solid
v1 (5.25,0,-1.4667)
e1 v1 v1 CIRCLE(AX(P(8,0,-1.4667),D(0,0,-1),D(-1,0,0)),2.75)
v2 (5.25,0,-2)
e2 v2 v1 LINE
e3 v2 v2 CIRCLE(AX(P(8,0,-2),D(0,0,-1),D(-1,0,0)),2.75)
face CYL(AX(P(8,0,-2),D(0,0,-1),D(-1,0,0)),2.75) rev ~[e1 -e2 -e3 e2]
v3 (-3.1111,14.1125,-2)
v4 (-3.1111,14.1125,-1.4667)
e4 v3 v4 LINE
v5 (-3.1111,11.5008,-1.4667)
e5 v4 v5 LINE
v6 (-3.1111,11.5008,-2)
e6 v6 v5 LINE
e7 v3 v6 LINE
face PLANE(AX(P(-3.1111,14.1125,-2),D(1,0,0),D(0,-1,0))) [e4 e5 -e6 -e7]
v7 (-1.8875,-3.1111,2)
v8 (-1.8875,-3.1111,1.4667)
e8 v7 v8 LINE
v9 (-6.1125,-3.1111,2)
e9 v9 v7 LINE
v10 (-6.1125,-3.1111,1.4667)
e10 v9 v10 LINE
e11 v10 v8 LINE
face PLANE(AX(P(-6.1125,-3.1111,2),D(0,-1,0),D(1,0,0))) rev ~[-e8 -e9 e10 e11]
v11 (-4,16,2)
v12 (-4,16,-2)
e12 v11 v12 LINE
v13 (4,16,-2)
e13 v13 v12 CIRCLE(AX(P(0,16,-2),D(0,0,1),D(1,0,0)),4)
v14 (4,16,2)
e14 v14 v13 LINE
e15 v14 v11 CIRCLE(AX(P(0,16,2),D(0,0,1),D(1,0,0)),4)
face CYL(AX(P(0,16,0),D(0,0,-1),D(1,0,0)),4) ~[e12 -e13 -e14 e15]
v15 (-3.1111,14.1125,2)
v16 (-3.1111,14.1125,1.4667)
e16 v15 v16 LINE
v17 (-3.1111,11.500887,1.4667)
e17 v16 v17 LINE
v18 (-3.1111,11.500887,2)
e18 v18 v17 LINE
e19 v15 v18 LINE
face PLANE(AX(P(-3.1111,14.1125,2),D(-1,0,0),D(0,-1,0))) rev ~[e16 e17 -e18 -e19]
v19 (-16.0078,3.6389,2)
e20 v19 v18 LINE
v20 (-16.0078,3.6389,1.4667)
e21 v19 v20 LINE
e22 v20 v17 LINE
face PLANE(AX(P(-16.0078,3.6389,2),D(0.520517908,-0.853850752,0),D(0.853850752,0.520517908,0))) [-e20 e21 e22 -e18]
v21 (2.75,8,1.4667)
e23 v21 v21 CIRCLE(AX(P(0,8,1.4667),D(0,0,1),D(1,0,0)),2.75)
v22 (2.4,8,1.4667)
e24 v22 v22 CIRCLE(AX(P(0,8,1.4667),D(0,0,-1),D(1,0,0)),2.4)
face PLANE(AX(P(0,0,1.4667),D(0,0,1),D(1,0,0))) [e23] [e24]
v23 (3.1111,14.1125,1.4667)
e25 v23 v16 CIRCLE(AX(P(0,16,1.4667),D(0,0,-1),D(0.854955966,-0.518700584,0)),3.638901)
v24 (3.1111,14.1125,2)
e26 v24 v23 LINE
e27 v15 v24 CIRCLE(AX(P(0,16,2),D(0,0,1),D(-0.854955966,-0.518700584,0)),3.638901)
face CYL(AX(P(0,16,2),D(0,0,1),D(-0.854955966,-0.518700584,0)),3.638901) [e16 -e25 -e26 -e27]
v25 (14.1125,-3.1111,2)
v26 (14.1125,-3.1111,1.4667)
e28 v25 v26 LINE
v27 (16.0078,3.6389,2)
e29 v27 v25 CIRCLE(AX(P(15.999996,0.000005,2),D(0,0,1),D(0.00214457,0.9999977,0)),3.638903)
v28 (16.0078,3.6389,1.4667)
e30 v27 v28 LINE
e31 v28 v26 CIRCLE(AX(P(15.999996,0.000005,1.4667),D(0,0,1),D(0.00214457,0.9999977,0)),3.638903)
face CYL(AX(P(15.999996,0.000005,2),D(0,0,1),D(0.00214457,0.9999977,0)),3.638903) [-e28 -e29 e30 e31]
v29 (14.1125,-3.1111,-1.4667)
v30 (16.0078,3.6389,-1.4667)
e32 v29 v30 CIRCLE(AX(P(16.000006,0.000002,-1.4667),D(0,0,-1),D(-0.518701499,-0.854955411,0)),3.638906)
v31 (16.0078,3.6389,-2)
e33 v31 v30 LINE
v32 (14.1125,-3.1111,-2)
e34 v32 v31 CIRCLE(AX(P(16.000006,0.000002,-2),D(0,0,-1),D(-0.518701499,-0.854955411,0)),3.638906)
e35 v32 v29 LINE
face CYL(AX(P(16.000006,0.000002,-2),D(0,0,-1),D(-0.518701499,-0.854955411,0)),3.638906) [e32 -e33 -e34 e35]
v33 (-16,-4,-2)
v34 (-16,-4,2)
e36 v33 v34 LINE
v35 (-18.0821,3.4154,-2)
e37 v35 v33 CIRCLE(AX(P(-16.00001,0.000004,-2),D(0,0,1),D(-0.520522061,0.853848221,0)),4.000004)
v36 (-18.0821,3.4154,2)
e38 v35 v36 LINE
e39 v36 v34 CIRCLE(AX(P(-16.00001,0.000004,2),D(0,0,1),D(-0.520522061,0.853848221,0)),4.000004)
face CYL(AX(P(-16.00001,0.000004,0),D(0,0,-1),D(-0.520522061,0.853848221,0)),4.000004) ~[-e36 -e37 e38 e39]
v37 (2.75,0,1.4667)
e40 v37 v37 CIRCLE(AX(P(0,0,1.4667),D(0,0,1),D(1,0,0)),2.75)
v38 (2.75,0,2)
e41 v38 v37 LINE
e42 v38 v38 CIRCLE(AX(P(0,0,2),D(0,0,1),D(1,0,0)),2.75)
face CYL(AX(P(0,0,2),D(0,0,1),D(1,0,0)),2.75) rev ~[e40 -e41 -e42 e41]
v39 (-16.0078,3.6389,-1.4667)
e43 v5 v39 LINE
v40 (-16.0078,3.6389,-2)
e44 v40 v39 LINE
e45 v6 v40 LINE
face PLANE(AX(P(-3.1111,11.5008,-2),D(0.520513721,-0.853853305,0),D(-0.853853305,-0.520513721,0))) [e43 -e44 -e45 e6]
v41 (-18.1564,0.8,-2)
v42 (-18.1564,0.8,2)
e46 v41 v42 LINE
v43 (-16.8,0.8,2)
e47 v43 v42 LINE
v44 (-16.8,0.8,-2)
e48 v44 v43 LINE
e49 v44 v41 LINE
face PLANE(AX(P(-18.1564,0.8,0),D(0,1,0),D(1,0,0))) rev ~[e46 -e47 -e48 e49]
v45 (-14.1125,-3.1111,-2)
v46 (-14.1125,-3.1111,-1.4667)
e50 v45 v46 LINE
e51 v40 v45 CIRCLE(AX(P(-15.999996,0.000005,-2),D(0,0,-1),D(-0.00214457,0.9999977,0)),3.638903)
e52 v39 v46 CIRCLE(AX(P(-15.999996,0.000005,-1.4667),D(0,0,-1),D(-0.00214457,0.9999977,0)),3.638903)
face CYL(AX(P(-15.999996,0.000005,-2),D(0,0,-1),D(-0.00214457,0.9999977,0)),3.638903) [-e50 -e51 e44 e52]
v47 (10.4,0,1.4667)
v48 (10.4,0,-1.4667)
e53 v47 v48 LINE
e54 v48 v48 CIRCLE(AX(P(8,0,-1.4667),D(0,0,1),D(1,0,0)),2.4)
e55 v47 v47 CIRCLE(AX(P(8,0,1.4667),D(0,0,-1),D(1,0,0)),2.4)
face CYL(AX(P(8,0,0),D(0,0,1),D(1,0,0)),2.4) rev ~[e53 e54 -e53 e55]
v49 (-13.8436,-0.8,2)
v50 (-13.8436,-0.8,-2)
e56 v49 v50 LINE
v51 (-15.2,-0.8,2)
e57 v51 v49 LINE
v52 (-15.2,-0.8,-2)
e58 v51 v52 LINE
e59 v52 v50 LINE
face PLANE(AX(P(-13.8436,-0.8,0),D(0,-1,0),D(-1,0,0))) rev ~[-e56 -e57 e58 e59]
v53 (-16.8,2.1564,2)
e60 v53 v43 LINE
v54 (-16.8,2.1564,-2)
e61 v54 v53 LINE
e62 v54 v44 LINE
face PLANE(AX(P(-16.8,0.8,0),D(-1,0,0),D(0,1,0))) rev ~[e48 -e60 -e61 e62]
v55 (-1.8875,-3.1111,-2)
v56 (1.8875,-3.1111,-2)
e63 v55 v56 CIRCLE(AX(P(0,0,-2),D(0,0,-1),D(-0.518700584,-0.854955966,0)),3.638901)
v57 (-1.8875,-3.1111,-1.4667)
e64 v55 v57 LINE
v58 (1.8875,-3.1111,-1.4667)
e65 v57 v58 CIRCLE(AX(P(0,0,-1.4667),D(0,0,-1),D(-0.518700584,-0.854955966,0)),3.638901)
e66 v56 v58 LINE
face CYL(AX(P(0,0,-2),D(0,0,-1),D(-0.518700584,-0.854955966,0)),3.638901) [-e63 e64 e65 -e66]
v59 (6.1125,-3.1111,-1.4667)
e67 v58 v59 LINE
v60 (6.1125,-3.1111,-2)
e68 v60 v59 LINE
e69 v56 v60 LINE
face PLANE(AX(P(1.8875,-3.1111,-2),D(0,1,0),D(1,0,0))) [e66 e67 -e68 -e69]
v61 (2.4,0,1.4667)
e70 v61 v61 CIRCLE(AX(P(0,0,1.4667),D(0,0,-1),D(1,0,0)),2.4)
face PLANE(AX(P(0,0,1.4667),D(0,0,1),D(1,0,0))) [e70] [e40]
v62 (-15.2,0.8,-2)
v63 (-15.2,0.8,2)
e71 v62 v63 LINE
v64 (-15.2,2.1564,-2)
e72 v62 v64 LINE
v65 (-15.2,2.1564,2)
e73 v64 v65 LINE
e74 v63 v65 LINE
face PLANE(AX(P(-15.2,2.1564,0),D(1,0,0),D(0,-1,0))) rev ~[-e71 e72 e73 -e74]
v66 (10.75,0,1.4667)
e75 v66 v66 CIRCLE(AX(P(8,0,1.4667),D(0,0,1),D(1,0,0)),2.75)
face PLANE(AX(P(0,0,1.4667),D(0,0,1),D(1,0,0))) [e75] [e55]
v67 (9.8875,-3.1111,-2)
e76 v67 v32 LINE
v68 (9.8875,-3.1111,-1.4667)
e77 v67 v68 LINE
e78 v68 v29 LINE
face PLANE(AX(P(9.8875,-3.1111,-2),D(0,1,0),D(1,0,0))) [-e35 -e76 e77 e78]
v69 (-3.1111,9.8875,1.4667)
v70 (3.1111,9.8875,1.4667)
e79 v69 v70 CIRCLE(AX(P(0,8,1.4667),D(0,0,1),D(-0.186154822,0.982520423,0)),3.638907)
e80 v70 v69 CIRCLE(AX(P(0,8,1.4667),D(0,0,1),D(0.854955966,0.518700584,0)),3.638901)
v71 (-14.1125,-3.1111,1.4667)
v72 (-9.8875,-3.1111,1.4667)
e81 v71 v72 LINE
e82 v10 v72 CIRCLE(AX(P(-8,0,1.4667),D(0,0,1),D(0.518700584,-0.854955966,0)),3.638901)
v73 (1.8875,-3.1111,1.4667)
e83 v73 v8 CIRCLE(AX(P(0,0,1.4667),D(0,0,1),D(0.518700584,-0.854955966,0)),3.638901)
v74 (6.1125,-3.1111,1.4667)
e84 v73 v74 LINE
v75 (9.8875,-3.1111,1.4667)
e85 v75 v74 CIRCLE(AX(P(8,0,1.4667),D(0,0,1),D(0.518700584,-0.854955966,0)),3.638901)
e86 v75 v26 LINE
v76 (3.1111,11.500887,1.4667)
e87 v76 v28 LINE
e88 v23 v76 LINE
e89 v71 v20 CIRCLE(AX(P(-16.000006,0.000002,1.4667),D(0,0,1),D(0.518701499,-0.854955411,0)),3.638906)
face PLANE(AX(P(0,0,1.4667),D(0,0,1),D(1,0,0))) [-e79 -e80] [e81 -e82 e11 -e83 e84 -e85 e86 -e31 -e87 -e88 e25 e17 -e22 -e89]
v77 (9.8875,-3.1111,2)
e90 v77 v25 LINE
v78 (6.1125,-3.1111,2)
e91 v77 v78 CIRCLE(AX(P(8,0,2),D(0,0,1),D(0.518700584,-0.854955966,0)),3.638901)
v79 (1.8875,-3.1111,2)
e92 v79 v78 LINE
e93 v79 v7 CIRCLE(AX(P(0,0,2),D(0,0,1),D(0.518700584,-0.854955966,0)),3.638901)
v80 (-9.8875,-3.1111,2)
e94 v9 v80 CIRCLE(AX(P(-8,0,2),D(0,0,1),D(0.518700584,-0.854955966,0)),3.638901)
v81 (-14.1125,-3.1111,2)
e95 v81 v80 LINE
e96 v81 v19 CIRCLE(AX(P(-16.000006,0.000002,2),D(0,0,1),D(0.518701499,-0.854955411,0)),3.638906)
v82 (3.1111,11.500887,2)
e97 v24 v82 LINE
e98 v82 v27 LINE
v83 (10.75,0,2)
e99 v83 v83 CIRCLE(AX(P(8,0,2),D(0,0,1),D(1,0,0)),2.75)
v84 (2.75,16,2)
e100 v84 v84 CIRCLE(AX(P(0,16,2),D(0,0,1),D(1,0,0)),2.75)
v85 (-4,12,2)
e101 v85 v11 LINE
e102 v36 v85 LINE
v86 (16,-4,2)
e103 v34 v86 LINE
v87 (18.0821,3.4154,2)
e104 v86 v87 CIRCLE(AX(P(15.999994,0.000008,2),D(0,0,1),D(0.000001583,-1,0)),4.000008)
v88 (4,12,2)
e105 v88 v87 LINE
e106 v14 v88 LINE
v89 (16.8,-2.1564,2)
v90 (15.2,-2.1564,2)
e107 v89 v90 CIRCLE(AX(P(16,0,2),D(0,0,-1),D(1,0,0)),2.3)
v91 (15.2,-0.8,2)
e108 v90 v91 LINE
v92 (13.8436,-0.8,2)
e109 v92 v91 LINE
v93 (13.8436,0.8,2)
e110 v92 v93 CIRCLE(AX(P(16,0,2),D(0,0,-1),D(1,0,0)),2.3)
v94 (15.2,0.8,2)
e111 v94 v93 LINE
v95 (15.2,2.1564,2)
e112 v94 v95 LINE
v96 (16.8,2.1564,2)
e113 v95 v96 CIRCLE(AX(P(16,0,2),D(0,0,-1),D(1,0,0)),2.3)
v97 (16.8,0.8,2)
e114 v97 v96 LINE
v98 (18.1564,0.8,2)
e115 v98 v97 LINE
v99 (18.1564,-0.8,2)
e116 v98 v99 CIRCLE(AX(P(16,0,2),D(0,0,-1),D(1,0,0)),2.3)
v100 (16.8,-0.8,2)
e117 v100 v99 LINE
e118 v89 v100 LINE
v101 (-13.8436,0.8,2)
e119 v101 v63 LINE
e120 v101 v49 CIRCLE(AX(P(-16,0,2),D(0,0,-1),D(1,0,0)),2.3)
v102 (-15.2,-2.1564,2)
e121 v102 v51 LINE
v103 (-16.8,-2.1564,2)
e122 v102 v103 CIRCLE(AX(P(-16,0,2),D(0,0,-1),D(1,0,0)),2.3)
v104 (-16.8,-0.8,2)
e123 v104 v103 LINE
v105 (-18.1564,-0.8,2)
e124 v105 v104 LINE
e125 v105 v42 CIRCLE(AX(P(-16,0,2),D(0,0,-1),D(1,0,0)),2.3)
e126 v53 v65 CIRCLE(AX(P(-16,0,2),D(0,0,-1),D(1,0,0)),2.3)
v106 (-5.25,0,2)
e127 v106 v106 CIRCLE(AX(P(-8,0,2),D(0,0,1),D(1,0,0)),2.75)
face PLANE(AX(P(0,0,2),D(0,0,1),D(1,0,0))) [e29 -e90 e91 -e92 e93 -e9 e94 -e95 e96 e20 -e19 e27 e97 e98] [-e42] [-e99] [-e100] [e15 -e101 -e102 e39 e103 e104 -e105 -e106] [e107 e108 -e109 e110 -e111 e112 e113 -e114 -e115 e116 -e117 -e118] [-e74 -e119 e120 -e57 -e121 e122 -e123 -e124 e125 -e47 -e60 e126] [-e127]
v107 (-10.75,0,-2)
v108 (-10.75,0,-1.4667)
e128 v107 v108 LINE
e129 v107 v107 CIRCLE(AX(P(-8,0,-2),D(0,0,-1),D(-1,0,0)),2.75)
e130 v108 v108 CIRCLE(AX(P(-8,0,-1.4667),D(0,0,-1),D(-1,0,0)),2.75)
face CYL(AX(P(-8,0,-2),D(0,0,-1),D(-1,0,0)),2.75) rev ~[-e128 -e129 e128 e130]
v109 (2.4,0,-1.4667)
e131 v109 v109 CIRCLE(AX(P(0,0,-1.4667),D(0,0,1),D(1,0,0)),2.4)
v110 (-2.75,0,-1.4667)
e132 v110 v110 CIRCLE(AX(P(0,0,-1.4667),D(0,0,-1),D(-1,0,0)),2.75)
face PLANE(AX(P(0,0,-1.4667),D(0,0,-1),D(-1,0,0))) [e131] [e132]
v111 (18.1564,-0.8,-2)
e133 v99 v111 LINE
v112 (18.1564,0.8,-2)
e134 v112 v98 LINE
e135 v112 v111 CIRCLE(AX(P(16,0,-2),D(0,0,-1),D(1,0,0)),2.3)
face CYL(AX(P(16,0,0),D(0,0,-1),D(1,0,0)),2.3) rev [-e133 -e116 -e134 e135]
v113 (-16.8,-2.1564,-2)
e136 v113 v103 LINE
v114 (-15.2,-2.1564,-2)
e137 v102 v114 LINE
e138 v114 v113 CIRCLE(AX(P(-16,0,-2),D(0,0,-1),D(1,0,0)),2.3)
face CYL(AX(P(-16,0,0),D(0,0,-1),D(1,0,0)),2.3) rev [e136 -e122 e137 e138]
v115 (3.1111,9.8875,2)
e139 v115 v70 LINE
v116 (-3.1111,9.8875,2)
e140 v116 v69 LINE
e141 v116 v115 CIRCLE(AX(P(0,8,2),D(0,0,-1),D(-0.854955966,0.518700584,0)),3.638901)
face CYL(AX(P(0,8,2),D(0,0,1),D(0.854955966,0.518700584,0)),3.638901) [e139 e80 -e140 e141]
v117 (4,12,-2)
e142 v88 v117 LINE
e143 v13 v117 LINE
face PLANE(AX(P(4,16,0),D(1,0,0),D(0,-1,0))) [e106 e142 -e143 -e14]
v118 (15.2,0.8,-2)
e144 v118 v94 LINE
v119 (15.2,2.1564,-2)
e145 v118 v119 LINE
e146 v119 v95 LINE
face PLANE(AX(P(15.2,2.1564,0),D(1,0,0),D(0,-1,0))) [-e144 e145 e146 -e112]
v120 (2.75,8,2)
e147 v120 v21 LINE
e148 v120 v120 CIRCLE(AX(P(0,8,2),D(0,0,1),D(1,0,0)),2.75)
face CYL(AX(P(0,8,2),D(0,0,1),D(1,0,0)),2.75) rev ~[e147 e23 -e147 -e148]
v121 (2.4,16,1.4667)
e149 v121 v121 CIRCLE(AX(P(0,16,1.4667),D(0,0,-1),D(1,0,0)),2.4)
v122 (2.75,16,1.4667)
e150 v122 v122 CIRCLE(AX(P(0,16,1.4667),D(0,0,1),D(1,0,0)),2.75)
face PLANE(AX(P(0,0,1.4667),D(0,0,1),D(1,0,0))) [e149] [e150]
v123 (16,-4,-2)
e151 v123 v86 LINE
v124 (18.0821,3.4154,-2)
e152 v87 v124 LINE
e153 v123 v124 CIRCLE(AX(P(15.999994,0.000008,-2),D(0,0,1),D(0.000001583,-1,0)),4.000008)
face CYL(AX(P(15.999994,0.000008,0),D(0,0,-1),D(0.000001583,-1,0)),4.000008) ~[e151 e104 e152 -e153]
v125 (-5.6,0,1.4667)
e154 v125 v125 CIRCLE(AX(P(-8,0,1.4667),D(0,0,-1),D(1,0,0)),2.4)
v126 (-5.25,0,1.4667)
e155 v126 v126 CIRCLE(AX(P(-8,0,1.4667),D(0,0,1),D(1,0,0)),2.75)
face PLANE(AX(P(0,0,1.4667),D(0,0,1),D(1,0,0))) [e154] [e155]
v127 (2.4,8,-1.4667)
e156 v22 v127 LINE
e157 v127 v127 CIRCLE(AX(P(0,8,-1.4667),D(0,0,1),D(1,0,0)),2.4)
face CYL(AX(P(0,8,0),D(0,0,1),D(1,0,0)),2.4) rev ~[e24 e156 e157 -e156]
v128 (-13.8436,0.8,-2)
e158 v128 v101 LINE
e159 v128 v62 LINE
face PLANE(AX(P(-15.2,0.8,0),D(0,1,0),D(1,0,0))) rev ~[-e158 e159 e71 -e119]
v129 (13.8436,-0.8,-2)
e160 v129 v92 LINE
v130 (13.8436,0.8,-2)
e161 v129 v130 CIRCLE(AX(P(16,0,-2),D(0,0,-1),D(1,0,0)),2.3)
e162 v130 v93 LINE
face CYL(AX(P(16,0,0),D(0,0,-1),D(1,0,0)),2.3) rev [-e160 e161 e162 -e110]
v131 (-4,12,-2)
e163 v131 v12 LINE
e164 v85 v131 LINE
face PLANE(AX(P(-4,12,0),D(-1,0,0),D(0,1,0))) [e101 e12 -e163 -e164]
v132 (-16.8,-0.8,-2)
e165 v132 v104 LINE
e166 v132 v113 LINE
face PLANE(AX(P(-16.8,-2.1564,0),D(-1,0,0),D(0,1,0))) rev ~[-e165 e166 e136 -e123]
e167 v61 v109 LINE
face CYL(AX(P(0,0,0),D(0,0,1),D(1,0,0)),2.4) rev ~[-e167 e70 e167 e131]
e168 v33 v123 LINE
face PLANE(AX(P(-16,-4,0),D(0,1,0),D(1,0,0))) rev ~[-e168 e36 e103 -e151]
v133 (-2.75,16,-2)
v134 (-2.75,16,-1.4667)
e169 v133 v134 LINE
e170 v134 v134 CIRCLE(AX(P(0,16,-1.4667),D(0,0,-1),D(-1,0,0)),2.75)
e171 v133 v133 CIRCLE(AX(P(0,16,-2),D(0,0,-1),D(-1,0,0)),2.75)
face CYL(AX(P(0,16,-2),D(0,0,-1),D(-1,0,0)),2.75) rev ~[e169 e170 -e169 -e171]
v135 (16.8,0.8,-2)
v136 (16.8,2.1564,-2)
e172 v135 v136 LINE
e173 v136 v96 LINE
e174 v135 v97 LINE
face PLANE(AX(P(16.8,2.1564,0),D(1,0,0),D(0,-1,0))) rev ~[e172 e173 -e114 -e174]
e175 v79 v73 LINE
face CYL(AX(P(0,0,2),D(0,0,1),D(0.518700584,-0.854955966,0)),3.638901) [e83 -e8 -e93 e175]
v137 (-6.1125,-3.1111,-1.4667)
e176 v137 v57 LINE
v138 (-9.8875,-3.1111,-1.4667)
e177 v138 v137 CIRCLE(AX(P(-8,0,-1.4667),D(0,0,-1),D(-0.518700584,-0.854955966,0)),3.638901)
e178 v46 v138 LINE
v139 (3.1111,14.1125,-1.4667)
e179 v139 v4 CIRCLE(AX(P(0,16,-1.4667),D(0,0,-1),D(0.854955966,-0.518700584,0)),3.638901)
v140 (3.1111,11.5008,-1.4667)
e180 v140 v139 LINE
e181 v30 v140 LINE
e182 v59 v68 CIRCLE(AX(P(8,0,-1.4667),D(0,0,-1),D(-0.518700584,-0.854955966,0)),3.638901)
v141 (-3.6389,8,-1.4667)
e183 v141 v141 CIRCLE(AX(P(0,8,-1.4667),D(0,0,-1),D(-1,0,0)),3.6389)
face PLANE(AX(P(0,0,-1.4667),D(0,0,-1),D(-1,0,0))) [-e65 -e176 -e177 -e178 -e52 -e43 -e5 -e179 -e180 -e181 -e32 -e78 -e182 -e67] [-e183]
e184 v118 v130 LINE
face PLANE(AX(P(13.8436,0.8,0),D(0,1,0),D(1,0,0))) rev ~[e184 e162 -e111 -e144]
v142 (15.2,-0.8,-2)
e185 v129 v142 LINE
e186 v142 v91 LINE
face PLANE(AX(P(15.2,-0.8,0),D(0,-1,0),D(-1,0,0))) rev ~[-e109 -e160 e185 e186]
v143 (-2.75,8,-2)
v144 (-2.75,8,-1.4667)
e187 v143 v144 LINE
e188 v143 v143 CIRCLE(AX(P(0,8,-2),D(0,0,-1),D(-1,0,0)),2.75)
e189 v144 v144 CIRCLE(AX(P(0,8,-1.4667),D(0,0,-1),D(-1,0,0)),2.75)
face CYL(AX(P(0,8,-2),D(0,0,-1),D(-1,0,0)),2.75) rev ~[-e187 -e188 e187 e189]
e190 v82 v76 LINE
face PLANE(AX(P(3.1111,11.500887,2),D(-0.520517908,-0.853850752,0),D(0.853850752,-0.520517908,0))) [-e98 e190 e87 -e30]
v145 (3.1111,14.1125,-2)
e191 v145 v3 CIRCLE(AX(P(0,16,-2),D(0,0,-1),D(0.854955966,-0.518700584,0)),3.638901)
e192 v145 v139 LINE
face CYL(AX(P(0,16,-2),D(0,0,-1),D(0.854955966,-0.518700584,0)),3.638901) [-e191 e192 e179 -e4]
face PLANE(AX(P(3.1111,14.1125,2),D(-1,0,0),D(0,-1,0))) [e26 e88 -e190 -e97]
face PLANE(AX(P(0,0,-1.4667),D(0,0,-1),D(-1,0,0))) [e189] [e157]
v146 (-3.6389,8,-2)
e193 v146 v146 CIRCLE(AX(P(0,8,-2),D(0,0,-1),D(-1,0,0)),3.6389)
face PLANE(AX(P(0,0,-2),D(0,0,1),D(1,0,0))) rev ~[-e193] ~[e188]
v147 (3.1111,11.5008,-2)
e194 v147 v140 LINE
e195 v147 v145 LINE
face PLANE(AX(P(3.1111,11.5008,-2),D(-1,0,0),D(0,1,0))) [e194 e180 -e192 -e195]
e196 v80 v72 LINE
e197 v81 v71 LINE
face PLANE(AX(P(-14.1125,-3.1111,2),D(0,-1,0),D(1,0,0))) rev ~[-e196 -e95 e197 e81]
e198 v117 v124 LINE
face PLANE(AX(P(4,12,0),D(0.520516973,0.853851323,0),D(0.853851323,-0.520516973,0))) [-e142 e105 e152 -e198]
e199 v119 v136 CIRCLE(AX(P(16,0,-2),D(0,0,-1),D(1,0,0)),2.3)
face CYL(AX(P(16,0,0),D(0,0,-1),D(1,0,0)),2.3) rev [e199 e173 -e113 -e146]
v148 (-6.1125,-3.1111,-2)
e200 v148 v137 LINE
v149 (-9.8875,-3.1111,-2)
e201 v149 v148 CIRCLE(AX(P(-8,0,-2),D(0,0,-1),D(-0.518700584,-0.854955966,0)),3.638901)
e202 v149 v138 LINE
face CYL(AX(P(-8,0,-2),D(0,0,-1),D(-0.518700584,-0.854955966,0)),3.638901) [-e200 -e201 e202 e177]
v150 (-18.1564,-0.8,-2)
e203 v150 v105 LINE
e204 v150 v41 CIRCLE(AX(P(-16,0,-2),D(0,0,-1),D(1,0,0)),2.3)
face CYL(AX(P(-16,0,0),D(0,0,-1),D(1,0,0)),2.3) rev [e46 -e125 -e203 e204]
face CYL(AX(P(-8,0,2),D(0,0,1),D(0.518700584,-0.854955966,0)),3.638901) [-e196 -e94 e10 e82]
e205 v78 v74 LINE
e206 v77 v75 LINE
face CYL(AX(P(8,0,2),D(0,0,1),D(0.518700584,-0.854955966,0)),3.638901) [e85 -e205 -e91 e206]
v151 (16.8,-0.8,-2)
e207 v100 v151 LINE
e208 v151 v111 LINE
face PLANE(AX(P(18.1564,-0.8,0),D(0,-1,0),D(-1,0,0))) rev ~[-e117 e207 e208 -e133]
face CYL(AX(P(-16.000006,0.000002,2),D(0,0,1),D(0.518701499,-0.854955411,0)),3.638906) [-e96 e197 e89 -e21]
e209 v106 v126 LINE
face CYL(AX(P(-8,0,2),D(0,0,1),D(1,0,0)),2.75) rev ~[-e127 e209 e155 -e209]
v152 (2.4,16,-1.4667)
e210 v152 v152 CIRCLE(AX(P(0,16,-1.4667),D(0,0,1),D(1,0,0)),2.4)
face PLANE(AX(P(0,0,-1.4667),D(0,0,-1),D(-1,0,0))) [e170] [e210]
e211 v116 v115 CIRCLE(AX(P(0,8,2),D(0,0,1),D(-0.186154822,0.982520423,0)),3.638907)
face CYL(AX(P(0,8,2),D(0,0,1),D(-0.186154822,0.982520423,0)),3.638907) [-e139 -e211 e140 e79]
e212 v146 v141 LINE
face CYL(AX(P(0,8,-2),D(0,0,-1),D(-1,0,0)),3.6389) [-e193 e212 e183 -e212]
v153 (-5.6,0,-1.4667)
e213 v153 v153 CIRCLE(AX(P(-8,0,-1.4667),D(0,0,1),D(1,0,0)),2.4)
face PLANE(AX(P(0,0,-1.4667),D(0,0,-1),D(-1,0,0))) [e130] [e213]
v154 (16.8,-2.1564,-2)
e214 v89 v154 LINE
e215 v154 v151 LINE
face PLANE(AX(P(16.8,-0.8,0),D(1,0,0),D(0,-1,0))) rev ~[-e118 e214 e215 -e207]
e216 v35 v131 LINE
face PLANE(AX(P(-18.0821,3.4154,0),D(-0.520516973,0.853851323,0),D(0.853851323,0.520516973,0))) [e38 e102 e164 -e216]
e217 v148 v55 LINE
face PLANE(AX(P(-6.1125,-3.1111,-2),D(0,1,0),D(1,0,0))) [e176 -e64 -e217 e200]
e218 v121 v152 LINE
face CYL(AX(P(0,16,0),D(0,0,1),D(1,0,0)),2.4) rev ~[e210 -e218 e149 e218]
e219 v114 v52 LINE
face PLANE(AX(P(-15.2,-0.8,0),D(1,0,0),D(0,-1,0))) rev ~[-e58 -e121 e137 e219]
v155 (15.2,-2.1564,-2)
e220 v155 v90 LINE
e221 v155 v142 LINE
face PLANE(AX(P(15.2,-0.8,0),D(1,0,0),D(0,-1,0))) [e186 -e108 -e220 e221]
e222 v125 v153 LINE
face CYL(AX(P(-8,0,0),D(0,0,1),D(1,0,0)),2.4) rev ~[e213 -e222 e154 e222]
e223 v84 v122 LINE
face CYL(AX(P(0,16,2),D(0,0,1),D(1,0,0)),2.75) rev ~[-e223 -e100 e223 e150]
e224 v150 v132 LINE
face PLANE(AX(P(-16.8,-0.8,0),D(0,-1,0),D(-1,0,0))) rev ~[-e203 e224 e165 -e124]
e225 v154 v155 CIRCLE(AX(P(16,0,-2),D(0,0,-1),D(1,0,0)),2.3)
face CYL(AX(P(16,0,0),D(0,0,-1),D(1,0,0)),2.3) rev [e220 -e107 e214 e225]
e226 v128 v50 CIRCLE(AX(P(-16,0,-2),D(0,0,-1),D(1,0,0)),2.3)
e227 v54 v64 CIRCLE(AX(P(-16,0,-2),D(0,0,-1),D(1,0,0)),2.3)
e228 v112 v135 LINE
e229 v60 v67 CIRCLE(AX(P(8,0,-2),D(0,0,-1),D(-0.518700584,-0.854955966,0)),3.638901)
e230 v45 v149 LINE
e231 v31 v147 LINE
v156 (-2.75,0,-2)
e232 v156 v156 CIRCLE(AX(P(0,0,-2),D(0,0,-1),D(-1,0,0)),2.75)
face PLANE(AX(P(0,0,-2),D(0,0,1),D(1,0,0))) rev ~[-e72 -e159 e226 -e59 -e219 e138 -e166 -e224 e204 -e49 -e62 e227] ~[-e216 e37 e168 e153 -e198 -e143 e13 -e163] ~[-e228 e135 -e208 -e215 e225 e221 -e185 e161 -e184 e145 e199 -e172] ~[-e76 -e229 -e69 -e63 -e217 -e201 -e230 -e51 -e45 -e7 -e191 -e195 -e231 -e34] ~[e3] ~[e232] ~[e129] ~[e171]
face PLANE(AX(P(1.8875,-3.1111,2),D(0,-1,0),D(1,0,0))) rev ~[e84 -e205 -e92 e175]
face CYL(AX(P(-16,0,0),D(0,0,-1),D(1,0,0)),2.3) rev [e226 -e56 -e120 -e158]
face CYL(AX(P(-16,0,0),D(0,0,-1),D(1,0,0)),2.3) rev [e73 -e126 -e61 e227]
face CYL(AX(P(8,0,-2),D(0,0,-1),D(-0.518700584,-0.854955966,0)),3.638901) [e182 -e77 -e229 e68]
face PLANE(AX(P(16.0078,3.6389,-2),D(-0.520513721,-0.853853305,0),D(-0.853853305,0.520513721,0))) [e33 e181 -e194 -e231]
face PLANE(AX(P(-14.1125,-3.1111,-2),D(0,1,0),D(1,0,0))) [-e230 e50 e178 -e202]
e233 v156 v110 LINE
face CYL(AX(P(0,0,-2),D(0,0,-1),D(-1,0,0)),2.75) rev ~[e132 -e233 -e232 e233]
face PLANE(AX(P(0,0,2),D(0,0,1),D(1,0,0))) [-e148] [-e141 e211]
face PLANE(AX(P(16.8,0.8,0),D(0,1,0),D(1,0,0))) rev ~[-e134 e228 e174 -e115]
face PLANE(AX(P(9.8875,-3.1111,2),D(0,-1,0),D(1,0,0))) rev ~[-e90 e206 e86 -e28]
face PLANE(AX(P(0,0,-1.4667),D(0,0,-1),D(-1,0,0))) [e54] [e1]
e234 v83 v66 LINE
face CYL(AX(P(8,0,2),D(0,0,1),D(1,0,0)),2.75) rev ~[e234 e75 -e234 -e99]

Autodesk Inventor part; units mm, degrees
ref_plane "YZ Plane" through (0, 0, 0) normal (1, 0, 0) x (0, 1, 0)
ref_plane "XZ Plane" through (0, 0, 0) normal (0, 1, 0) x (-1, 0, 0)
ref_plane "XY Plane" through (0, 0, 0) normal (0, 0, 1) x (1, 0, 0)
sketch "Sketch1" plane through (0, 0, 0) normal (0, 0, 1) x (1, 0, 0)
  line L0 (0, -9.7468) -> (0, 24.9578) construction
  line L1 (-29.249, 0) -> (29.249, 0) construction
  arc A0 (-18.0821, 3.4154) -> (-16, -4) centre (-16, 0) ccw
  line L2 (-16, -4) -> (16, -4)
  arc A1 (16, -4) -> (18.0821, 3.4154) centre (16, 0) ccw
  line L3 (-18.0821, 3.4154) -> (-4, 12)
  line L4 (-4, 12) -> (-4, 16)
  arc A2 (4, 16) -> (-4, 16) centre (0, 16) ccw
  line L5 (4, 16) -> (4, 12)
  line L6 (4, 12) -> (18.0821, 3.4154)
  point P0 (0, -4)
  dimension "d0" = 40
  dimension "d38" = 8
  dimension "d39" = 24
  dimension "d41" = 4
sketch "Sketch8" plane through (0, 0, 0) normal (0, 0, 1) x (1, 0, 0)
  circle A0 centre (0, 0) radius 2.4
  circle A1 centre (0, 0) radius 2.75
  circle A2 centre (0, 16) radius 2.4
  circle A3 centre (0, 16) radius 2.75
  arc A4 (4, 16) -> (-4, 16) centre (0, 16) ccw construction
  line L0 (0, 16) -> (0, 0) construction
  circle A5 centre (0, 8) radius 2.4
  circle A6 centre (0, 8) radius 2.75
  circle A7 centre (-8, 0) radius 2.4
  circle A8 centre (-8, 0) radius 2.75
  circle A9 centre (8, 0) radius 2.4
  circle A10 centre (8, 0) radius 2.75
  line L1 (-8, 0) -> (8, 0) construction
  dimension "d42" = 5.5
  dimension "d43" = 4.8
sketch "Sketch6" plane through (0, 0, 0) normal (0, 0, 1) x (1, 0, 0)
  arc A0 (-18.0821, 3.4154) -> (-16, -4) centre (-16, 0) ccw construction
  arc A1 (16, -4) -> (18.0821, 3.4154) centre (16, 0) ccw construction
  circle A2 centre (-16, 0) radius 2.3
  circle A3 centre (16, 0) radius 2.3
  line L0 (-18.1564, 0.8) -> (-16.8, 0.8)
  line L1 (-16.8, 0.8) -> (-16.8, 2.1564)
  line L2 (-15.2, 2.1564) -> (-15.2, 0.8)
  line L3 (-15.2, 0.8) -> (-13.8436, 0.8)
  line L4 (-13.8436, -0.8) -> (-15.2, -0.8)
  line L5 (-15.2, -0.8) -> (-15.2, -2.1564)
  line L6 (-16.8, -2.1564) -> (-16.8, -0.8)
  line L7 (-16.8, -0.8) -> (-18.1564, -0.8)
  line L8 (13.8436, 0.8) -> (15.2, 0.8)
  line L9 (16.8, 0.8) -> (18.1564, 0.8)
  line L10 (16.8, 2.1564) -> (16.8, 0.8)
  line L11 (16.8, -0.8) -> (16.8, -2.1564)
  line L12 (15.2, 2.1564) -> (15.2, 0.8)
  line L13 (15.2, -0.8) -> (15.2, -2.1564)
  line L14 (18.1564, -0.8) -> (16.8, -0.8)
  line L15 (15.2, -0.8) -> (13.8436, -0.8)
  circle A4 centre (-16, 0) radius 2.75
  circle A5 centre (16, 0) radius 2.75
  dimension "d29" = 4.6
  dimension "d30" = 1.6
  dimension "d44" = 5.5
extrude "Extrusion1" add sketch "Sketch1" along normal mid plane 4
extrude "Extrusion9" cut sketch "Sketch6" along normal through all both and the other way through all contours A2 L4 L5 L6 L7 L0 L1 L2 L3 | A3 L14 L11 L13 L15 L8 L12 L10 L9
extrude "Extrusion10" cut sketch "Sketch8" along normal through all both and the other way through all contours A0 | A2 | A5 | A7 | A9
sketch "Sketch2" plane through (0, 0, 2) normal (0, 0, 1) x (1, 0, 0)
  circle A0 centre (0, 0) radius 2.75 projected
  circle A1 centre (-8, 0) radius 2.75 projected
  circle A2 centre (0, 8) radius 2.75 projected
  circle A3 centre (8, 0) radius 2.75 projected
  circle A4 centre (0, 16) radius 2.75 projected
extrude "Extrusion3" cut sketch "Sketch2" against normal blind 0.5333
sketch "Sketch3" plane through (0, 0, -2) normal (0, 0, -1) x (-1, 0, 0)
  circle A0 centre (0, 0) radius 2.75 projected
  circle A1 centre (-8, 0) radius 2.75 projected
  circle A2 centre (8, 0) radius 2.75 projected
  circle A3 centre (0, 8) radius 2.75 projected
  circle A4 centre (0, 16) radius 2.75 projected
extrude "Extrusion4" cut sketch "Sketch3" against normal blind 0.5333
sketch "Sketch9" plane through (0, 0, 2) normal (0, 0, 1) x (1, 0, 0)
  circle A0 centre (0, 16) radius 2.75 construction
  circle A1 centre (0, 8) radius 2.75 construction
  line L0 (4, 12) -> (18.0821, 3.4154) construction
  line L1 (-18.0821, 3.4154) -> (-4, 12) construction
  circle A2 centre (-8, 0) radius 2.75 construction
  circle A3 centre (0, 0) radius 2.75 construction
  circle A4 centre (8, 0) radius 2.75 construction
  circle A5 centre (-16, 0) radius 2.75 construction
  circle A6 centre (16, 0) radius 2.75 construction
  line L2 (1.3037, 12.6027) -> (16.0078, 3.6389)
  arc A7 (16.0078, 3.6389) -> (14.1125, -3.1111) centre (16, 0) ccw
  line L3 (-16.0078, 3.6389) -> (-1.3037, 12.6027)
  arc A8 (-14.1125, -3.1111) -> (-16.0078, 3.6389) centre (-16, 0) ccw
  line L4 (-28, 0) -> (28, 0) construction
  line L5 (0, -8.8) -> (0, 24.8) construction
  line L6 (16, -4) -> (-16, -4) construction
  arc A9 (-6.1125, -3.1111) -> (-9.8875, -3.1111) centre (-8, 0) ccw
  line L7 (-14.1125, -3.1111) -> (-9.8875, -3.1111)
  line L8 (-6.1125, -3.1111) -> (-1.8875, -3.1111)
  arc A10 (1.8875, -3.1111) -> (-1.8875, -3.1111) centre (0, 0) ccw
  line L9 (1.8875, -3.1111) -> (6.1125, -3.1111)
  arc A11 (9.8875, -3.1111) -> (6.1125, -3.1111) centre (8, 0) ccw
  line L10 (9.8875, -3.1111) -> (14.1125, -3.1111)
  arc A12 (-3.1111, 14.1125) -> (3.1111, 14.1125) centre (0, 16) ccw
  arc A13 (3.1111, 9.8875) -> (-3.1111, 9.8875) centre (0, 8) ccw
  line L11 (-3.1111, 14.1125) -> (-3.1111, 9.8875)
  line L12 (3.1111, 14.1125) -> (3.1111, 9.8875)
  line L13 (-4, 12) -> (-4, 16) construction
  line L14 (4, 16) -> (4, 12) construction
  arc A14 (-0.6774, 11.5753) -> (0.6774, 11.5753) centre (0, 8) ccw
  line L15 (1.3037, 12.6027) -> (0.6774, 11.5753)
  line L16 (-1.3037, 12.6027) -> (-0.6774, 11.5753)
  dimension "d52" = 0.8889
  dimension "d53" = 0.8889
  dimension "d54" = 0.8889
  dimension "d55" = 0.8889
  dimension "d58" = 0.8889
  dimension "d59" = 0.8889
extrude "Extrusion11" cut sketch "Sketch9" against normal blind 0.5333 contours A12 L12 L2 | L15 A13 L16 A12 | L2 L12 A13 L15 | L2 A7 L10 A11 L9 A10 L8 A9 L7 A8 L3 L11 A14 L12 | L16 A13 L11 L3 | L3 L11 A12
sketch "Sketch10" plane through (0, 0, -2) normal (0, 0, -1) x (-1, 0, 0)
  arc A0 (-3.1111, 14.1125) -> (3.1111, 14.1125) centre (0, 16) ccw projected
  line L0 (3.1111, 14.1125) -> (3.1111, 11.5008) projected
  line L1 (3.1111, 11.5008) -> (16.0078, 3.6389) projected
  arc A1 (16.0078, 3.6389) -> (14.1125, -3.1111) centre (16, 0) ccw projected
  line L2 (14.1125, -3.1111) -> (9.8875, -3.1111) projected
  arc A2 (9.8875, -3.1111) -> (6.1125, -3.1111) centre (8, 0) ccw projected
  line L3 (6.1125, -3.1111) -> (1.8875, -3.1111) projected
  arc A3 (1.8875, -3.1111) -> (-1.8875, -3.1111) centre (0, 0) ccw projected
  line L4 (-1.8875, -3.1111) -> (-6.1125, -3.1111) projected
  arc A4 (-6.1125, -3.1111) -> (-9.8875, -3.1111) centre (-8, 0) ccw projected
  line L5 (-9.8875, -3.1111) -> (-14.1125, -3.1111) projected
  arc A5 (-14.1125, -3.1111) -> (-16.0078, 3.6389) centre (-16, 0) ccw projected
  line L6 (-16.0078, 3.6389) -> (-3.1111, 11.5008) projected
  line L7 (-3.1111, 11.5008) -> (-3.1111, 14.1125) projected
  circle A6 centre (0, 8) radius 3.6389 projected
extrude "Extrusion12" cut sketch "Sketch10" against normal blind 0.5333
equation "\"d38\" = width_standard"
equation "\"d41\" = 0.5 * width_standard"
equation "\"d2\" = 0.5 * width_standard"
equation "\"d13\" = 0.0555556 * height_standard"
equation "\"d15\" = 0.0555556 * height_standard"
equation "\"d56\" = 0.0555556 * height_standard"
equation "\"d60\" = 0.0555556 * height_standard"
equation "\"width_standard\" = 8"
equation "\"height_standard\" = 9.6"
properties part number "LEGO Brick 32017" material "Steel"
